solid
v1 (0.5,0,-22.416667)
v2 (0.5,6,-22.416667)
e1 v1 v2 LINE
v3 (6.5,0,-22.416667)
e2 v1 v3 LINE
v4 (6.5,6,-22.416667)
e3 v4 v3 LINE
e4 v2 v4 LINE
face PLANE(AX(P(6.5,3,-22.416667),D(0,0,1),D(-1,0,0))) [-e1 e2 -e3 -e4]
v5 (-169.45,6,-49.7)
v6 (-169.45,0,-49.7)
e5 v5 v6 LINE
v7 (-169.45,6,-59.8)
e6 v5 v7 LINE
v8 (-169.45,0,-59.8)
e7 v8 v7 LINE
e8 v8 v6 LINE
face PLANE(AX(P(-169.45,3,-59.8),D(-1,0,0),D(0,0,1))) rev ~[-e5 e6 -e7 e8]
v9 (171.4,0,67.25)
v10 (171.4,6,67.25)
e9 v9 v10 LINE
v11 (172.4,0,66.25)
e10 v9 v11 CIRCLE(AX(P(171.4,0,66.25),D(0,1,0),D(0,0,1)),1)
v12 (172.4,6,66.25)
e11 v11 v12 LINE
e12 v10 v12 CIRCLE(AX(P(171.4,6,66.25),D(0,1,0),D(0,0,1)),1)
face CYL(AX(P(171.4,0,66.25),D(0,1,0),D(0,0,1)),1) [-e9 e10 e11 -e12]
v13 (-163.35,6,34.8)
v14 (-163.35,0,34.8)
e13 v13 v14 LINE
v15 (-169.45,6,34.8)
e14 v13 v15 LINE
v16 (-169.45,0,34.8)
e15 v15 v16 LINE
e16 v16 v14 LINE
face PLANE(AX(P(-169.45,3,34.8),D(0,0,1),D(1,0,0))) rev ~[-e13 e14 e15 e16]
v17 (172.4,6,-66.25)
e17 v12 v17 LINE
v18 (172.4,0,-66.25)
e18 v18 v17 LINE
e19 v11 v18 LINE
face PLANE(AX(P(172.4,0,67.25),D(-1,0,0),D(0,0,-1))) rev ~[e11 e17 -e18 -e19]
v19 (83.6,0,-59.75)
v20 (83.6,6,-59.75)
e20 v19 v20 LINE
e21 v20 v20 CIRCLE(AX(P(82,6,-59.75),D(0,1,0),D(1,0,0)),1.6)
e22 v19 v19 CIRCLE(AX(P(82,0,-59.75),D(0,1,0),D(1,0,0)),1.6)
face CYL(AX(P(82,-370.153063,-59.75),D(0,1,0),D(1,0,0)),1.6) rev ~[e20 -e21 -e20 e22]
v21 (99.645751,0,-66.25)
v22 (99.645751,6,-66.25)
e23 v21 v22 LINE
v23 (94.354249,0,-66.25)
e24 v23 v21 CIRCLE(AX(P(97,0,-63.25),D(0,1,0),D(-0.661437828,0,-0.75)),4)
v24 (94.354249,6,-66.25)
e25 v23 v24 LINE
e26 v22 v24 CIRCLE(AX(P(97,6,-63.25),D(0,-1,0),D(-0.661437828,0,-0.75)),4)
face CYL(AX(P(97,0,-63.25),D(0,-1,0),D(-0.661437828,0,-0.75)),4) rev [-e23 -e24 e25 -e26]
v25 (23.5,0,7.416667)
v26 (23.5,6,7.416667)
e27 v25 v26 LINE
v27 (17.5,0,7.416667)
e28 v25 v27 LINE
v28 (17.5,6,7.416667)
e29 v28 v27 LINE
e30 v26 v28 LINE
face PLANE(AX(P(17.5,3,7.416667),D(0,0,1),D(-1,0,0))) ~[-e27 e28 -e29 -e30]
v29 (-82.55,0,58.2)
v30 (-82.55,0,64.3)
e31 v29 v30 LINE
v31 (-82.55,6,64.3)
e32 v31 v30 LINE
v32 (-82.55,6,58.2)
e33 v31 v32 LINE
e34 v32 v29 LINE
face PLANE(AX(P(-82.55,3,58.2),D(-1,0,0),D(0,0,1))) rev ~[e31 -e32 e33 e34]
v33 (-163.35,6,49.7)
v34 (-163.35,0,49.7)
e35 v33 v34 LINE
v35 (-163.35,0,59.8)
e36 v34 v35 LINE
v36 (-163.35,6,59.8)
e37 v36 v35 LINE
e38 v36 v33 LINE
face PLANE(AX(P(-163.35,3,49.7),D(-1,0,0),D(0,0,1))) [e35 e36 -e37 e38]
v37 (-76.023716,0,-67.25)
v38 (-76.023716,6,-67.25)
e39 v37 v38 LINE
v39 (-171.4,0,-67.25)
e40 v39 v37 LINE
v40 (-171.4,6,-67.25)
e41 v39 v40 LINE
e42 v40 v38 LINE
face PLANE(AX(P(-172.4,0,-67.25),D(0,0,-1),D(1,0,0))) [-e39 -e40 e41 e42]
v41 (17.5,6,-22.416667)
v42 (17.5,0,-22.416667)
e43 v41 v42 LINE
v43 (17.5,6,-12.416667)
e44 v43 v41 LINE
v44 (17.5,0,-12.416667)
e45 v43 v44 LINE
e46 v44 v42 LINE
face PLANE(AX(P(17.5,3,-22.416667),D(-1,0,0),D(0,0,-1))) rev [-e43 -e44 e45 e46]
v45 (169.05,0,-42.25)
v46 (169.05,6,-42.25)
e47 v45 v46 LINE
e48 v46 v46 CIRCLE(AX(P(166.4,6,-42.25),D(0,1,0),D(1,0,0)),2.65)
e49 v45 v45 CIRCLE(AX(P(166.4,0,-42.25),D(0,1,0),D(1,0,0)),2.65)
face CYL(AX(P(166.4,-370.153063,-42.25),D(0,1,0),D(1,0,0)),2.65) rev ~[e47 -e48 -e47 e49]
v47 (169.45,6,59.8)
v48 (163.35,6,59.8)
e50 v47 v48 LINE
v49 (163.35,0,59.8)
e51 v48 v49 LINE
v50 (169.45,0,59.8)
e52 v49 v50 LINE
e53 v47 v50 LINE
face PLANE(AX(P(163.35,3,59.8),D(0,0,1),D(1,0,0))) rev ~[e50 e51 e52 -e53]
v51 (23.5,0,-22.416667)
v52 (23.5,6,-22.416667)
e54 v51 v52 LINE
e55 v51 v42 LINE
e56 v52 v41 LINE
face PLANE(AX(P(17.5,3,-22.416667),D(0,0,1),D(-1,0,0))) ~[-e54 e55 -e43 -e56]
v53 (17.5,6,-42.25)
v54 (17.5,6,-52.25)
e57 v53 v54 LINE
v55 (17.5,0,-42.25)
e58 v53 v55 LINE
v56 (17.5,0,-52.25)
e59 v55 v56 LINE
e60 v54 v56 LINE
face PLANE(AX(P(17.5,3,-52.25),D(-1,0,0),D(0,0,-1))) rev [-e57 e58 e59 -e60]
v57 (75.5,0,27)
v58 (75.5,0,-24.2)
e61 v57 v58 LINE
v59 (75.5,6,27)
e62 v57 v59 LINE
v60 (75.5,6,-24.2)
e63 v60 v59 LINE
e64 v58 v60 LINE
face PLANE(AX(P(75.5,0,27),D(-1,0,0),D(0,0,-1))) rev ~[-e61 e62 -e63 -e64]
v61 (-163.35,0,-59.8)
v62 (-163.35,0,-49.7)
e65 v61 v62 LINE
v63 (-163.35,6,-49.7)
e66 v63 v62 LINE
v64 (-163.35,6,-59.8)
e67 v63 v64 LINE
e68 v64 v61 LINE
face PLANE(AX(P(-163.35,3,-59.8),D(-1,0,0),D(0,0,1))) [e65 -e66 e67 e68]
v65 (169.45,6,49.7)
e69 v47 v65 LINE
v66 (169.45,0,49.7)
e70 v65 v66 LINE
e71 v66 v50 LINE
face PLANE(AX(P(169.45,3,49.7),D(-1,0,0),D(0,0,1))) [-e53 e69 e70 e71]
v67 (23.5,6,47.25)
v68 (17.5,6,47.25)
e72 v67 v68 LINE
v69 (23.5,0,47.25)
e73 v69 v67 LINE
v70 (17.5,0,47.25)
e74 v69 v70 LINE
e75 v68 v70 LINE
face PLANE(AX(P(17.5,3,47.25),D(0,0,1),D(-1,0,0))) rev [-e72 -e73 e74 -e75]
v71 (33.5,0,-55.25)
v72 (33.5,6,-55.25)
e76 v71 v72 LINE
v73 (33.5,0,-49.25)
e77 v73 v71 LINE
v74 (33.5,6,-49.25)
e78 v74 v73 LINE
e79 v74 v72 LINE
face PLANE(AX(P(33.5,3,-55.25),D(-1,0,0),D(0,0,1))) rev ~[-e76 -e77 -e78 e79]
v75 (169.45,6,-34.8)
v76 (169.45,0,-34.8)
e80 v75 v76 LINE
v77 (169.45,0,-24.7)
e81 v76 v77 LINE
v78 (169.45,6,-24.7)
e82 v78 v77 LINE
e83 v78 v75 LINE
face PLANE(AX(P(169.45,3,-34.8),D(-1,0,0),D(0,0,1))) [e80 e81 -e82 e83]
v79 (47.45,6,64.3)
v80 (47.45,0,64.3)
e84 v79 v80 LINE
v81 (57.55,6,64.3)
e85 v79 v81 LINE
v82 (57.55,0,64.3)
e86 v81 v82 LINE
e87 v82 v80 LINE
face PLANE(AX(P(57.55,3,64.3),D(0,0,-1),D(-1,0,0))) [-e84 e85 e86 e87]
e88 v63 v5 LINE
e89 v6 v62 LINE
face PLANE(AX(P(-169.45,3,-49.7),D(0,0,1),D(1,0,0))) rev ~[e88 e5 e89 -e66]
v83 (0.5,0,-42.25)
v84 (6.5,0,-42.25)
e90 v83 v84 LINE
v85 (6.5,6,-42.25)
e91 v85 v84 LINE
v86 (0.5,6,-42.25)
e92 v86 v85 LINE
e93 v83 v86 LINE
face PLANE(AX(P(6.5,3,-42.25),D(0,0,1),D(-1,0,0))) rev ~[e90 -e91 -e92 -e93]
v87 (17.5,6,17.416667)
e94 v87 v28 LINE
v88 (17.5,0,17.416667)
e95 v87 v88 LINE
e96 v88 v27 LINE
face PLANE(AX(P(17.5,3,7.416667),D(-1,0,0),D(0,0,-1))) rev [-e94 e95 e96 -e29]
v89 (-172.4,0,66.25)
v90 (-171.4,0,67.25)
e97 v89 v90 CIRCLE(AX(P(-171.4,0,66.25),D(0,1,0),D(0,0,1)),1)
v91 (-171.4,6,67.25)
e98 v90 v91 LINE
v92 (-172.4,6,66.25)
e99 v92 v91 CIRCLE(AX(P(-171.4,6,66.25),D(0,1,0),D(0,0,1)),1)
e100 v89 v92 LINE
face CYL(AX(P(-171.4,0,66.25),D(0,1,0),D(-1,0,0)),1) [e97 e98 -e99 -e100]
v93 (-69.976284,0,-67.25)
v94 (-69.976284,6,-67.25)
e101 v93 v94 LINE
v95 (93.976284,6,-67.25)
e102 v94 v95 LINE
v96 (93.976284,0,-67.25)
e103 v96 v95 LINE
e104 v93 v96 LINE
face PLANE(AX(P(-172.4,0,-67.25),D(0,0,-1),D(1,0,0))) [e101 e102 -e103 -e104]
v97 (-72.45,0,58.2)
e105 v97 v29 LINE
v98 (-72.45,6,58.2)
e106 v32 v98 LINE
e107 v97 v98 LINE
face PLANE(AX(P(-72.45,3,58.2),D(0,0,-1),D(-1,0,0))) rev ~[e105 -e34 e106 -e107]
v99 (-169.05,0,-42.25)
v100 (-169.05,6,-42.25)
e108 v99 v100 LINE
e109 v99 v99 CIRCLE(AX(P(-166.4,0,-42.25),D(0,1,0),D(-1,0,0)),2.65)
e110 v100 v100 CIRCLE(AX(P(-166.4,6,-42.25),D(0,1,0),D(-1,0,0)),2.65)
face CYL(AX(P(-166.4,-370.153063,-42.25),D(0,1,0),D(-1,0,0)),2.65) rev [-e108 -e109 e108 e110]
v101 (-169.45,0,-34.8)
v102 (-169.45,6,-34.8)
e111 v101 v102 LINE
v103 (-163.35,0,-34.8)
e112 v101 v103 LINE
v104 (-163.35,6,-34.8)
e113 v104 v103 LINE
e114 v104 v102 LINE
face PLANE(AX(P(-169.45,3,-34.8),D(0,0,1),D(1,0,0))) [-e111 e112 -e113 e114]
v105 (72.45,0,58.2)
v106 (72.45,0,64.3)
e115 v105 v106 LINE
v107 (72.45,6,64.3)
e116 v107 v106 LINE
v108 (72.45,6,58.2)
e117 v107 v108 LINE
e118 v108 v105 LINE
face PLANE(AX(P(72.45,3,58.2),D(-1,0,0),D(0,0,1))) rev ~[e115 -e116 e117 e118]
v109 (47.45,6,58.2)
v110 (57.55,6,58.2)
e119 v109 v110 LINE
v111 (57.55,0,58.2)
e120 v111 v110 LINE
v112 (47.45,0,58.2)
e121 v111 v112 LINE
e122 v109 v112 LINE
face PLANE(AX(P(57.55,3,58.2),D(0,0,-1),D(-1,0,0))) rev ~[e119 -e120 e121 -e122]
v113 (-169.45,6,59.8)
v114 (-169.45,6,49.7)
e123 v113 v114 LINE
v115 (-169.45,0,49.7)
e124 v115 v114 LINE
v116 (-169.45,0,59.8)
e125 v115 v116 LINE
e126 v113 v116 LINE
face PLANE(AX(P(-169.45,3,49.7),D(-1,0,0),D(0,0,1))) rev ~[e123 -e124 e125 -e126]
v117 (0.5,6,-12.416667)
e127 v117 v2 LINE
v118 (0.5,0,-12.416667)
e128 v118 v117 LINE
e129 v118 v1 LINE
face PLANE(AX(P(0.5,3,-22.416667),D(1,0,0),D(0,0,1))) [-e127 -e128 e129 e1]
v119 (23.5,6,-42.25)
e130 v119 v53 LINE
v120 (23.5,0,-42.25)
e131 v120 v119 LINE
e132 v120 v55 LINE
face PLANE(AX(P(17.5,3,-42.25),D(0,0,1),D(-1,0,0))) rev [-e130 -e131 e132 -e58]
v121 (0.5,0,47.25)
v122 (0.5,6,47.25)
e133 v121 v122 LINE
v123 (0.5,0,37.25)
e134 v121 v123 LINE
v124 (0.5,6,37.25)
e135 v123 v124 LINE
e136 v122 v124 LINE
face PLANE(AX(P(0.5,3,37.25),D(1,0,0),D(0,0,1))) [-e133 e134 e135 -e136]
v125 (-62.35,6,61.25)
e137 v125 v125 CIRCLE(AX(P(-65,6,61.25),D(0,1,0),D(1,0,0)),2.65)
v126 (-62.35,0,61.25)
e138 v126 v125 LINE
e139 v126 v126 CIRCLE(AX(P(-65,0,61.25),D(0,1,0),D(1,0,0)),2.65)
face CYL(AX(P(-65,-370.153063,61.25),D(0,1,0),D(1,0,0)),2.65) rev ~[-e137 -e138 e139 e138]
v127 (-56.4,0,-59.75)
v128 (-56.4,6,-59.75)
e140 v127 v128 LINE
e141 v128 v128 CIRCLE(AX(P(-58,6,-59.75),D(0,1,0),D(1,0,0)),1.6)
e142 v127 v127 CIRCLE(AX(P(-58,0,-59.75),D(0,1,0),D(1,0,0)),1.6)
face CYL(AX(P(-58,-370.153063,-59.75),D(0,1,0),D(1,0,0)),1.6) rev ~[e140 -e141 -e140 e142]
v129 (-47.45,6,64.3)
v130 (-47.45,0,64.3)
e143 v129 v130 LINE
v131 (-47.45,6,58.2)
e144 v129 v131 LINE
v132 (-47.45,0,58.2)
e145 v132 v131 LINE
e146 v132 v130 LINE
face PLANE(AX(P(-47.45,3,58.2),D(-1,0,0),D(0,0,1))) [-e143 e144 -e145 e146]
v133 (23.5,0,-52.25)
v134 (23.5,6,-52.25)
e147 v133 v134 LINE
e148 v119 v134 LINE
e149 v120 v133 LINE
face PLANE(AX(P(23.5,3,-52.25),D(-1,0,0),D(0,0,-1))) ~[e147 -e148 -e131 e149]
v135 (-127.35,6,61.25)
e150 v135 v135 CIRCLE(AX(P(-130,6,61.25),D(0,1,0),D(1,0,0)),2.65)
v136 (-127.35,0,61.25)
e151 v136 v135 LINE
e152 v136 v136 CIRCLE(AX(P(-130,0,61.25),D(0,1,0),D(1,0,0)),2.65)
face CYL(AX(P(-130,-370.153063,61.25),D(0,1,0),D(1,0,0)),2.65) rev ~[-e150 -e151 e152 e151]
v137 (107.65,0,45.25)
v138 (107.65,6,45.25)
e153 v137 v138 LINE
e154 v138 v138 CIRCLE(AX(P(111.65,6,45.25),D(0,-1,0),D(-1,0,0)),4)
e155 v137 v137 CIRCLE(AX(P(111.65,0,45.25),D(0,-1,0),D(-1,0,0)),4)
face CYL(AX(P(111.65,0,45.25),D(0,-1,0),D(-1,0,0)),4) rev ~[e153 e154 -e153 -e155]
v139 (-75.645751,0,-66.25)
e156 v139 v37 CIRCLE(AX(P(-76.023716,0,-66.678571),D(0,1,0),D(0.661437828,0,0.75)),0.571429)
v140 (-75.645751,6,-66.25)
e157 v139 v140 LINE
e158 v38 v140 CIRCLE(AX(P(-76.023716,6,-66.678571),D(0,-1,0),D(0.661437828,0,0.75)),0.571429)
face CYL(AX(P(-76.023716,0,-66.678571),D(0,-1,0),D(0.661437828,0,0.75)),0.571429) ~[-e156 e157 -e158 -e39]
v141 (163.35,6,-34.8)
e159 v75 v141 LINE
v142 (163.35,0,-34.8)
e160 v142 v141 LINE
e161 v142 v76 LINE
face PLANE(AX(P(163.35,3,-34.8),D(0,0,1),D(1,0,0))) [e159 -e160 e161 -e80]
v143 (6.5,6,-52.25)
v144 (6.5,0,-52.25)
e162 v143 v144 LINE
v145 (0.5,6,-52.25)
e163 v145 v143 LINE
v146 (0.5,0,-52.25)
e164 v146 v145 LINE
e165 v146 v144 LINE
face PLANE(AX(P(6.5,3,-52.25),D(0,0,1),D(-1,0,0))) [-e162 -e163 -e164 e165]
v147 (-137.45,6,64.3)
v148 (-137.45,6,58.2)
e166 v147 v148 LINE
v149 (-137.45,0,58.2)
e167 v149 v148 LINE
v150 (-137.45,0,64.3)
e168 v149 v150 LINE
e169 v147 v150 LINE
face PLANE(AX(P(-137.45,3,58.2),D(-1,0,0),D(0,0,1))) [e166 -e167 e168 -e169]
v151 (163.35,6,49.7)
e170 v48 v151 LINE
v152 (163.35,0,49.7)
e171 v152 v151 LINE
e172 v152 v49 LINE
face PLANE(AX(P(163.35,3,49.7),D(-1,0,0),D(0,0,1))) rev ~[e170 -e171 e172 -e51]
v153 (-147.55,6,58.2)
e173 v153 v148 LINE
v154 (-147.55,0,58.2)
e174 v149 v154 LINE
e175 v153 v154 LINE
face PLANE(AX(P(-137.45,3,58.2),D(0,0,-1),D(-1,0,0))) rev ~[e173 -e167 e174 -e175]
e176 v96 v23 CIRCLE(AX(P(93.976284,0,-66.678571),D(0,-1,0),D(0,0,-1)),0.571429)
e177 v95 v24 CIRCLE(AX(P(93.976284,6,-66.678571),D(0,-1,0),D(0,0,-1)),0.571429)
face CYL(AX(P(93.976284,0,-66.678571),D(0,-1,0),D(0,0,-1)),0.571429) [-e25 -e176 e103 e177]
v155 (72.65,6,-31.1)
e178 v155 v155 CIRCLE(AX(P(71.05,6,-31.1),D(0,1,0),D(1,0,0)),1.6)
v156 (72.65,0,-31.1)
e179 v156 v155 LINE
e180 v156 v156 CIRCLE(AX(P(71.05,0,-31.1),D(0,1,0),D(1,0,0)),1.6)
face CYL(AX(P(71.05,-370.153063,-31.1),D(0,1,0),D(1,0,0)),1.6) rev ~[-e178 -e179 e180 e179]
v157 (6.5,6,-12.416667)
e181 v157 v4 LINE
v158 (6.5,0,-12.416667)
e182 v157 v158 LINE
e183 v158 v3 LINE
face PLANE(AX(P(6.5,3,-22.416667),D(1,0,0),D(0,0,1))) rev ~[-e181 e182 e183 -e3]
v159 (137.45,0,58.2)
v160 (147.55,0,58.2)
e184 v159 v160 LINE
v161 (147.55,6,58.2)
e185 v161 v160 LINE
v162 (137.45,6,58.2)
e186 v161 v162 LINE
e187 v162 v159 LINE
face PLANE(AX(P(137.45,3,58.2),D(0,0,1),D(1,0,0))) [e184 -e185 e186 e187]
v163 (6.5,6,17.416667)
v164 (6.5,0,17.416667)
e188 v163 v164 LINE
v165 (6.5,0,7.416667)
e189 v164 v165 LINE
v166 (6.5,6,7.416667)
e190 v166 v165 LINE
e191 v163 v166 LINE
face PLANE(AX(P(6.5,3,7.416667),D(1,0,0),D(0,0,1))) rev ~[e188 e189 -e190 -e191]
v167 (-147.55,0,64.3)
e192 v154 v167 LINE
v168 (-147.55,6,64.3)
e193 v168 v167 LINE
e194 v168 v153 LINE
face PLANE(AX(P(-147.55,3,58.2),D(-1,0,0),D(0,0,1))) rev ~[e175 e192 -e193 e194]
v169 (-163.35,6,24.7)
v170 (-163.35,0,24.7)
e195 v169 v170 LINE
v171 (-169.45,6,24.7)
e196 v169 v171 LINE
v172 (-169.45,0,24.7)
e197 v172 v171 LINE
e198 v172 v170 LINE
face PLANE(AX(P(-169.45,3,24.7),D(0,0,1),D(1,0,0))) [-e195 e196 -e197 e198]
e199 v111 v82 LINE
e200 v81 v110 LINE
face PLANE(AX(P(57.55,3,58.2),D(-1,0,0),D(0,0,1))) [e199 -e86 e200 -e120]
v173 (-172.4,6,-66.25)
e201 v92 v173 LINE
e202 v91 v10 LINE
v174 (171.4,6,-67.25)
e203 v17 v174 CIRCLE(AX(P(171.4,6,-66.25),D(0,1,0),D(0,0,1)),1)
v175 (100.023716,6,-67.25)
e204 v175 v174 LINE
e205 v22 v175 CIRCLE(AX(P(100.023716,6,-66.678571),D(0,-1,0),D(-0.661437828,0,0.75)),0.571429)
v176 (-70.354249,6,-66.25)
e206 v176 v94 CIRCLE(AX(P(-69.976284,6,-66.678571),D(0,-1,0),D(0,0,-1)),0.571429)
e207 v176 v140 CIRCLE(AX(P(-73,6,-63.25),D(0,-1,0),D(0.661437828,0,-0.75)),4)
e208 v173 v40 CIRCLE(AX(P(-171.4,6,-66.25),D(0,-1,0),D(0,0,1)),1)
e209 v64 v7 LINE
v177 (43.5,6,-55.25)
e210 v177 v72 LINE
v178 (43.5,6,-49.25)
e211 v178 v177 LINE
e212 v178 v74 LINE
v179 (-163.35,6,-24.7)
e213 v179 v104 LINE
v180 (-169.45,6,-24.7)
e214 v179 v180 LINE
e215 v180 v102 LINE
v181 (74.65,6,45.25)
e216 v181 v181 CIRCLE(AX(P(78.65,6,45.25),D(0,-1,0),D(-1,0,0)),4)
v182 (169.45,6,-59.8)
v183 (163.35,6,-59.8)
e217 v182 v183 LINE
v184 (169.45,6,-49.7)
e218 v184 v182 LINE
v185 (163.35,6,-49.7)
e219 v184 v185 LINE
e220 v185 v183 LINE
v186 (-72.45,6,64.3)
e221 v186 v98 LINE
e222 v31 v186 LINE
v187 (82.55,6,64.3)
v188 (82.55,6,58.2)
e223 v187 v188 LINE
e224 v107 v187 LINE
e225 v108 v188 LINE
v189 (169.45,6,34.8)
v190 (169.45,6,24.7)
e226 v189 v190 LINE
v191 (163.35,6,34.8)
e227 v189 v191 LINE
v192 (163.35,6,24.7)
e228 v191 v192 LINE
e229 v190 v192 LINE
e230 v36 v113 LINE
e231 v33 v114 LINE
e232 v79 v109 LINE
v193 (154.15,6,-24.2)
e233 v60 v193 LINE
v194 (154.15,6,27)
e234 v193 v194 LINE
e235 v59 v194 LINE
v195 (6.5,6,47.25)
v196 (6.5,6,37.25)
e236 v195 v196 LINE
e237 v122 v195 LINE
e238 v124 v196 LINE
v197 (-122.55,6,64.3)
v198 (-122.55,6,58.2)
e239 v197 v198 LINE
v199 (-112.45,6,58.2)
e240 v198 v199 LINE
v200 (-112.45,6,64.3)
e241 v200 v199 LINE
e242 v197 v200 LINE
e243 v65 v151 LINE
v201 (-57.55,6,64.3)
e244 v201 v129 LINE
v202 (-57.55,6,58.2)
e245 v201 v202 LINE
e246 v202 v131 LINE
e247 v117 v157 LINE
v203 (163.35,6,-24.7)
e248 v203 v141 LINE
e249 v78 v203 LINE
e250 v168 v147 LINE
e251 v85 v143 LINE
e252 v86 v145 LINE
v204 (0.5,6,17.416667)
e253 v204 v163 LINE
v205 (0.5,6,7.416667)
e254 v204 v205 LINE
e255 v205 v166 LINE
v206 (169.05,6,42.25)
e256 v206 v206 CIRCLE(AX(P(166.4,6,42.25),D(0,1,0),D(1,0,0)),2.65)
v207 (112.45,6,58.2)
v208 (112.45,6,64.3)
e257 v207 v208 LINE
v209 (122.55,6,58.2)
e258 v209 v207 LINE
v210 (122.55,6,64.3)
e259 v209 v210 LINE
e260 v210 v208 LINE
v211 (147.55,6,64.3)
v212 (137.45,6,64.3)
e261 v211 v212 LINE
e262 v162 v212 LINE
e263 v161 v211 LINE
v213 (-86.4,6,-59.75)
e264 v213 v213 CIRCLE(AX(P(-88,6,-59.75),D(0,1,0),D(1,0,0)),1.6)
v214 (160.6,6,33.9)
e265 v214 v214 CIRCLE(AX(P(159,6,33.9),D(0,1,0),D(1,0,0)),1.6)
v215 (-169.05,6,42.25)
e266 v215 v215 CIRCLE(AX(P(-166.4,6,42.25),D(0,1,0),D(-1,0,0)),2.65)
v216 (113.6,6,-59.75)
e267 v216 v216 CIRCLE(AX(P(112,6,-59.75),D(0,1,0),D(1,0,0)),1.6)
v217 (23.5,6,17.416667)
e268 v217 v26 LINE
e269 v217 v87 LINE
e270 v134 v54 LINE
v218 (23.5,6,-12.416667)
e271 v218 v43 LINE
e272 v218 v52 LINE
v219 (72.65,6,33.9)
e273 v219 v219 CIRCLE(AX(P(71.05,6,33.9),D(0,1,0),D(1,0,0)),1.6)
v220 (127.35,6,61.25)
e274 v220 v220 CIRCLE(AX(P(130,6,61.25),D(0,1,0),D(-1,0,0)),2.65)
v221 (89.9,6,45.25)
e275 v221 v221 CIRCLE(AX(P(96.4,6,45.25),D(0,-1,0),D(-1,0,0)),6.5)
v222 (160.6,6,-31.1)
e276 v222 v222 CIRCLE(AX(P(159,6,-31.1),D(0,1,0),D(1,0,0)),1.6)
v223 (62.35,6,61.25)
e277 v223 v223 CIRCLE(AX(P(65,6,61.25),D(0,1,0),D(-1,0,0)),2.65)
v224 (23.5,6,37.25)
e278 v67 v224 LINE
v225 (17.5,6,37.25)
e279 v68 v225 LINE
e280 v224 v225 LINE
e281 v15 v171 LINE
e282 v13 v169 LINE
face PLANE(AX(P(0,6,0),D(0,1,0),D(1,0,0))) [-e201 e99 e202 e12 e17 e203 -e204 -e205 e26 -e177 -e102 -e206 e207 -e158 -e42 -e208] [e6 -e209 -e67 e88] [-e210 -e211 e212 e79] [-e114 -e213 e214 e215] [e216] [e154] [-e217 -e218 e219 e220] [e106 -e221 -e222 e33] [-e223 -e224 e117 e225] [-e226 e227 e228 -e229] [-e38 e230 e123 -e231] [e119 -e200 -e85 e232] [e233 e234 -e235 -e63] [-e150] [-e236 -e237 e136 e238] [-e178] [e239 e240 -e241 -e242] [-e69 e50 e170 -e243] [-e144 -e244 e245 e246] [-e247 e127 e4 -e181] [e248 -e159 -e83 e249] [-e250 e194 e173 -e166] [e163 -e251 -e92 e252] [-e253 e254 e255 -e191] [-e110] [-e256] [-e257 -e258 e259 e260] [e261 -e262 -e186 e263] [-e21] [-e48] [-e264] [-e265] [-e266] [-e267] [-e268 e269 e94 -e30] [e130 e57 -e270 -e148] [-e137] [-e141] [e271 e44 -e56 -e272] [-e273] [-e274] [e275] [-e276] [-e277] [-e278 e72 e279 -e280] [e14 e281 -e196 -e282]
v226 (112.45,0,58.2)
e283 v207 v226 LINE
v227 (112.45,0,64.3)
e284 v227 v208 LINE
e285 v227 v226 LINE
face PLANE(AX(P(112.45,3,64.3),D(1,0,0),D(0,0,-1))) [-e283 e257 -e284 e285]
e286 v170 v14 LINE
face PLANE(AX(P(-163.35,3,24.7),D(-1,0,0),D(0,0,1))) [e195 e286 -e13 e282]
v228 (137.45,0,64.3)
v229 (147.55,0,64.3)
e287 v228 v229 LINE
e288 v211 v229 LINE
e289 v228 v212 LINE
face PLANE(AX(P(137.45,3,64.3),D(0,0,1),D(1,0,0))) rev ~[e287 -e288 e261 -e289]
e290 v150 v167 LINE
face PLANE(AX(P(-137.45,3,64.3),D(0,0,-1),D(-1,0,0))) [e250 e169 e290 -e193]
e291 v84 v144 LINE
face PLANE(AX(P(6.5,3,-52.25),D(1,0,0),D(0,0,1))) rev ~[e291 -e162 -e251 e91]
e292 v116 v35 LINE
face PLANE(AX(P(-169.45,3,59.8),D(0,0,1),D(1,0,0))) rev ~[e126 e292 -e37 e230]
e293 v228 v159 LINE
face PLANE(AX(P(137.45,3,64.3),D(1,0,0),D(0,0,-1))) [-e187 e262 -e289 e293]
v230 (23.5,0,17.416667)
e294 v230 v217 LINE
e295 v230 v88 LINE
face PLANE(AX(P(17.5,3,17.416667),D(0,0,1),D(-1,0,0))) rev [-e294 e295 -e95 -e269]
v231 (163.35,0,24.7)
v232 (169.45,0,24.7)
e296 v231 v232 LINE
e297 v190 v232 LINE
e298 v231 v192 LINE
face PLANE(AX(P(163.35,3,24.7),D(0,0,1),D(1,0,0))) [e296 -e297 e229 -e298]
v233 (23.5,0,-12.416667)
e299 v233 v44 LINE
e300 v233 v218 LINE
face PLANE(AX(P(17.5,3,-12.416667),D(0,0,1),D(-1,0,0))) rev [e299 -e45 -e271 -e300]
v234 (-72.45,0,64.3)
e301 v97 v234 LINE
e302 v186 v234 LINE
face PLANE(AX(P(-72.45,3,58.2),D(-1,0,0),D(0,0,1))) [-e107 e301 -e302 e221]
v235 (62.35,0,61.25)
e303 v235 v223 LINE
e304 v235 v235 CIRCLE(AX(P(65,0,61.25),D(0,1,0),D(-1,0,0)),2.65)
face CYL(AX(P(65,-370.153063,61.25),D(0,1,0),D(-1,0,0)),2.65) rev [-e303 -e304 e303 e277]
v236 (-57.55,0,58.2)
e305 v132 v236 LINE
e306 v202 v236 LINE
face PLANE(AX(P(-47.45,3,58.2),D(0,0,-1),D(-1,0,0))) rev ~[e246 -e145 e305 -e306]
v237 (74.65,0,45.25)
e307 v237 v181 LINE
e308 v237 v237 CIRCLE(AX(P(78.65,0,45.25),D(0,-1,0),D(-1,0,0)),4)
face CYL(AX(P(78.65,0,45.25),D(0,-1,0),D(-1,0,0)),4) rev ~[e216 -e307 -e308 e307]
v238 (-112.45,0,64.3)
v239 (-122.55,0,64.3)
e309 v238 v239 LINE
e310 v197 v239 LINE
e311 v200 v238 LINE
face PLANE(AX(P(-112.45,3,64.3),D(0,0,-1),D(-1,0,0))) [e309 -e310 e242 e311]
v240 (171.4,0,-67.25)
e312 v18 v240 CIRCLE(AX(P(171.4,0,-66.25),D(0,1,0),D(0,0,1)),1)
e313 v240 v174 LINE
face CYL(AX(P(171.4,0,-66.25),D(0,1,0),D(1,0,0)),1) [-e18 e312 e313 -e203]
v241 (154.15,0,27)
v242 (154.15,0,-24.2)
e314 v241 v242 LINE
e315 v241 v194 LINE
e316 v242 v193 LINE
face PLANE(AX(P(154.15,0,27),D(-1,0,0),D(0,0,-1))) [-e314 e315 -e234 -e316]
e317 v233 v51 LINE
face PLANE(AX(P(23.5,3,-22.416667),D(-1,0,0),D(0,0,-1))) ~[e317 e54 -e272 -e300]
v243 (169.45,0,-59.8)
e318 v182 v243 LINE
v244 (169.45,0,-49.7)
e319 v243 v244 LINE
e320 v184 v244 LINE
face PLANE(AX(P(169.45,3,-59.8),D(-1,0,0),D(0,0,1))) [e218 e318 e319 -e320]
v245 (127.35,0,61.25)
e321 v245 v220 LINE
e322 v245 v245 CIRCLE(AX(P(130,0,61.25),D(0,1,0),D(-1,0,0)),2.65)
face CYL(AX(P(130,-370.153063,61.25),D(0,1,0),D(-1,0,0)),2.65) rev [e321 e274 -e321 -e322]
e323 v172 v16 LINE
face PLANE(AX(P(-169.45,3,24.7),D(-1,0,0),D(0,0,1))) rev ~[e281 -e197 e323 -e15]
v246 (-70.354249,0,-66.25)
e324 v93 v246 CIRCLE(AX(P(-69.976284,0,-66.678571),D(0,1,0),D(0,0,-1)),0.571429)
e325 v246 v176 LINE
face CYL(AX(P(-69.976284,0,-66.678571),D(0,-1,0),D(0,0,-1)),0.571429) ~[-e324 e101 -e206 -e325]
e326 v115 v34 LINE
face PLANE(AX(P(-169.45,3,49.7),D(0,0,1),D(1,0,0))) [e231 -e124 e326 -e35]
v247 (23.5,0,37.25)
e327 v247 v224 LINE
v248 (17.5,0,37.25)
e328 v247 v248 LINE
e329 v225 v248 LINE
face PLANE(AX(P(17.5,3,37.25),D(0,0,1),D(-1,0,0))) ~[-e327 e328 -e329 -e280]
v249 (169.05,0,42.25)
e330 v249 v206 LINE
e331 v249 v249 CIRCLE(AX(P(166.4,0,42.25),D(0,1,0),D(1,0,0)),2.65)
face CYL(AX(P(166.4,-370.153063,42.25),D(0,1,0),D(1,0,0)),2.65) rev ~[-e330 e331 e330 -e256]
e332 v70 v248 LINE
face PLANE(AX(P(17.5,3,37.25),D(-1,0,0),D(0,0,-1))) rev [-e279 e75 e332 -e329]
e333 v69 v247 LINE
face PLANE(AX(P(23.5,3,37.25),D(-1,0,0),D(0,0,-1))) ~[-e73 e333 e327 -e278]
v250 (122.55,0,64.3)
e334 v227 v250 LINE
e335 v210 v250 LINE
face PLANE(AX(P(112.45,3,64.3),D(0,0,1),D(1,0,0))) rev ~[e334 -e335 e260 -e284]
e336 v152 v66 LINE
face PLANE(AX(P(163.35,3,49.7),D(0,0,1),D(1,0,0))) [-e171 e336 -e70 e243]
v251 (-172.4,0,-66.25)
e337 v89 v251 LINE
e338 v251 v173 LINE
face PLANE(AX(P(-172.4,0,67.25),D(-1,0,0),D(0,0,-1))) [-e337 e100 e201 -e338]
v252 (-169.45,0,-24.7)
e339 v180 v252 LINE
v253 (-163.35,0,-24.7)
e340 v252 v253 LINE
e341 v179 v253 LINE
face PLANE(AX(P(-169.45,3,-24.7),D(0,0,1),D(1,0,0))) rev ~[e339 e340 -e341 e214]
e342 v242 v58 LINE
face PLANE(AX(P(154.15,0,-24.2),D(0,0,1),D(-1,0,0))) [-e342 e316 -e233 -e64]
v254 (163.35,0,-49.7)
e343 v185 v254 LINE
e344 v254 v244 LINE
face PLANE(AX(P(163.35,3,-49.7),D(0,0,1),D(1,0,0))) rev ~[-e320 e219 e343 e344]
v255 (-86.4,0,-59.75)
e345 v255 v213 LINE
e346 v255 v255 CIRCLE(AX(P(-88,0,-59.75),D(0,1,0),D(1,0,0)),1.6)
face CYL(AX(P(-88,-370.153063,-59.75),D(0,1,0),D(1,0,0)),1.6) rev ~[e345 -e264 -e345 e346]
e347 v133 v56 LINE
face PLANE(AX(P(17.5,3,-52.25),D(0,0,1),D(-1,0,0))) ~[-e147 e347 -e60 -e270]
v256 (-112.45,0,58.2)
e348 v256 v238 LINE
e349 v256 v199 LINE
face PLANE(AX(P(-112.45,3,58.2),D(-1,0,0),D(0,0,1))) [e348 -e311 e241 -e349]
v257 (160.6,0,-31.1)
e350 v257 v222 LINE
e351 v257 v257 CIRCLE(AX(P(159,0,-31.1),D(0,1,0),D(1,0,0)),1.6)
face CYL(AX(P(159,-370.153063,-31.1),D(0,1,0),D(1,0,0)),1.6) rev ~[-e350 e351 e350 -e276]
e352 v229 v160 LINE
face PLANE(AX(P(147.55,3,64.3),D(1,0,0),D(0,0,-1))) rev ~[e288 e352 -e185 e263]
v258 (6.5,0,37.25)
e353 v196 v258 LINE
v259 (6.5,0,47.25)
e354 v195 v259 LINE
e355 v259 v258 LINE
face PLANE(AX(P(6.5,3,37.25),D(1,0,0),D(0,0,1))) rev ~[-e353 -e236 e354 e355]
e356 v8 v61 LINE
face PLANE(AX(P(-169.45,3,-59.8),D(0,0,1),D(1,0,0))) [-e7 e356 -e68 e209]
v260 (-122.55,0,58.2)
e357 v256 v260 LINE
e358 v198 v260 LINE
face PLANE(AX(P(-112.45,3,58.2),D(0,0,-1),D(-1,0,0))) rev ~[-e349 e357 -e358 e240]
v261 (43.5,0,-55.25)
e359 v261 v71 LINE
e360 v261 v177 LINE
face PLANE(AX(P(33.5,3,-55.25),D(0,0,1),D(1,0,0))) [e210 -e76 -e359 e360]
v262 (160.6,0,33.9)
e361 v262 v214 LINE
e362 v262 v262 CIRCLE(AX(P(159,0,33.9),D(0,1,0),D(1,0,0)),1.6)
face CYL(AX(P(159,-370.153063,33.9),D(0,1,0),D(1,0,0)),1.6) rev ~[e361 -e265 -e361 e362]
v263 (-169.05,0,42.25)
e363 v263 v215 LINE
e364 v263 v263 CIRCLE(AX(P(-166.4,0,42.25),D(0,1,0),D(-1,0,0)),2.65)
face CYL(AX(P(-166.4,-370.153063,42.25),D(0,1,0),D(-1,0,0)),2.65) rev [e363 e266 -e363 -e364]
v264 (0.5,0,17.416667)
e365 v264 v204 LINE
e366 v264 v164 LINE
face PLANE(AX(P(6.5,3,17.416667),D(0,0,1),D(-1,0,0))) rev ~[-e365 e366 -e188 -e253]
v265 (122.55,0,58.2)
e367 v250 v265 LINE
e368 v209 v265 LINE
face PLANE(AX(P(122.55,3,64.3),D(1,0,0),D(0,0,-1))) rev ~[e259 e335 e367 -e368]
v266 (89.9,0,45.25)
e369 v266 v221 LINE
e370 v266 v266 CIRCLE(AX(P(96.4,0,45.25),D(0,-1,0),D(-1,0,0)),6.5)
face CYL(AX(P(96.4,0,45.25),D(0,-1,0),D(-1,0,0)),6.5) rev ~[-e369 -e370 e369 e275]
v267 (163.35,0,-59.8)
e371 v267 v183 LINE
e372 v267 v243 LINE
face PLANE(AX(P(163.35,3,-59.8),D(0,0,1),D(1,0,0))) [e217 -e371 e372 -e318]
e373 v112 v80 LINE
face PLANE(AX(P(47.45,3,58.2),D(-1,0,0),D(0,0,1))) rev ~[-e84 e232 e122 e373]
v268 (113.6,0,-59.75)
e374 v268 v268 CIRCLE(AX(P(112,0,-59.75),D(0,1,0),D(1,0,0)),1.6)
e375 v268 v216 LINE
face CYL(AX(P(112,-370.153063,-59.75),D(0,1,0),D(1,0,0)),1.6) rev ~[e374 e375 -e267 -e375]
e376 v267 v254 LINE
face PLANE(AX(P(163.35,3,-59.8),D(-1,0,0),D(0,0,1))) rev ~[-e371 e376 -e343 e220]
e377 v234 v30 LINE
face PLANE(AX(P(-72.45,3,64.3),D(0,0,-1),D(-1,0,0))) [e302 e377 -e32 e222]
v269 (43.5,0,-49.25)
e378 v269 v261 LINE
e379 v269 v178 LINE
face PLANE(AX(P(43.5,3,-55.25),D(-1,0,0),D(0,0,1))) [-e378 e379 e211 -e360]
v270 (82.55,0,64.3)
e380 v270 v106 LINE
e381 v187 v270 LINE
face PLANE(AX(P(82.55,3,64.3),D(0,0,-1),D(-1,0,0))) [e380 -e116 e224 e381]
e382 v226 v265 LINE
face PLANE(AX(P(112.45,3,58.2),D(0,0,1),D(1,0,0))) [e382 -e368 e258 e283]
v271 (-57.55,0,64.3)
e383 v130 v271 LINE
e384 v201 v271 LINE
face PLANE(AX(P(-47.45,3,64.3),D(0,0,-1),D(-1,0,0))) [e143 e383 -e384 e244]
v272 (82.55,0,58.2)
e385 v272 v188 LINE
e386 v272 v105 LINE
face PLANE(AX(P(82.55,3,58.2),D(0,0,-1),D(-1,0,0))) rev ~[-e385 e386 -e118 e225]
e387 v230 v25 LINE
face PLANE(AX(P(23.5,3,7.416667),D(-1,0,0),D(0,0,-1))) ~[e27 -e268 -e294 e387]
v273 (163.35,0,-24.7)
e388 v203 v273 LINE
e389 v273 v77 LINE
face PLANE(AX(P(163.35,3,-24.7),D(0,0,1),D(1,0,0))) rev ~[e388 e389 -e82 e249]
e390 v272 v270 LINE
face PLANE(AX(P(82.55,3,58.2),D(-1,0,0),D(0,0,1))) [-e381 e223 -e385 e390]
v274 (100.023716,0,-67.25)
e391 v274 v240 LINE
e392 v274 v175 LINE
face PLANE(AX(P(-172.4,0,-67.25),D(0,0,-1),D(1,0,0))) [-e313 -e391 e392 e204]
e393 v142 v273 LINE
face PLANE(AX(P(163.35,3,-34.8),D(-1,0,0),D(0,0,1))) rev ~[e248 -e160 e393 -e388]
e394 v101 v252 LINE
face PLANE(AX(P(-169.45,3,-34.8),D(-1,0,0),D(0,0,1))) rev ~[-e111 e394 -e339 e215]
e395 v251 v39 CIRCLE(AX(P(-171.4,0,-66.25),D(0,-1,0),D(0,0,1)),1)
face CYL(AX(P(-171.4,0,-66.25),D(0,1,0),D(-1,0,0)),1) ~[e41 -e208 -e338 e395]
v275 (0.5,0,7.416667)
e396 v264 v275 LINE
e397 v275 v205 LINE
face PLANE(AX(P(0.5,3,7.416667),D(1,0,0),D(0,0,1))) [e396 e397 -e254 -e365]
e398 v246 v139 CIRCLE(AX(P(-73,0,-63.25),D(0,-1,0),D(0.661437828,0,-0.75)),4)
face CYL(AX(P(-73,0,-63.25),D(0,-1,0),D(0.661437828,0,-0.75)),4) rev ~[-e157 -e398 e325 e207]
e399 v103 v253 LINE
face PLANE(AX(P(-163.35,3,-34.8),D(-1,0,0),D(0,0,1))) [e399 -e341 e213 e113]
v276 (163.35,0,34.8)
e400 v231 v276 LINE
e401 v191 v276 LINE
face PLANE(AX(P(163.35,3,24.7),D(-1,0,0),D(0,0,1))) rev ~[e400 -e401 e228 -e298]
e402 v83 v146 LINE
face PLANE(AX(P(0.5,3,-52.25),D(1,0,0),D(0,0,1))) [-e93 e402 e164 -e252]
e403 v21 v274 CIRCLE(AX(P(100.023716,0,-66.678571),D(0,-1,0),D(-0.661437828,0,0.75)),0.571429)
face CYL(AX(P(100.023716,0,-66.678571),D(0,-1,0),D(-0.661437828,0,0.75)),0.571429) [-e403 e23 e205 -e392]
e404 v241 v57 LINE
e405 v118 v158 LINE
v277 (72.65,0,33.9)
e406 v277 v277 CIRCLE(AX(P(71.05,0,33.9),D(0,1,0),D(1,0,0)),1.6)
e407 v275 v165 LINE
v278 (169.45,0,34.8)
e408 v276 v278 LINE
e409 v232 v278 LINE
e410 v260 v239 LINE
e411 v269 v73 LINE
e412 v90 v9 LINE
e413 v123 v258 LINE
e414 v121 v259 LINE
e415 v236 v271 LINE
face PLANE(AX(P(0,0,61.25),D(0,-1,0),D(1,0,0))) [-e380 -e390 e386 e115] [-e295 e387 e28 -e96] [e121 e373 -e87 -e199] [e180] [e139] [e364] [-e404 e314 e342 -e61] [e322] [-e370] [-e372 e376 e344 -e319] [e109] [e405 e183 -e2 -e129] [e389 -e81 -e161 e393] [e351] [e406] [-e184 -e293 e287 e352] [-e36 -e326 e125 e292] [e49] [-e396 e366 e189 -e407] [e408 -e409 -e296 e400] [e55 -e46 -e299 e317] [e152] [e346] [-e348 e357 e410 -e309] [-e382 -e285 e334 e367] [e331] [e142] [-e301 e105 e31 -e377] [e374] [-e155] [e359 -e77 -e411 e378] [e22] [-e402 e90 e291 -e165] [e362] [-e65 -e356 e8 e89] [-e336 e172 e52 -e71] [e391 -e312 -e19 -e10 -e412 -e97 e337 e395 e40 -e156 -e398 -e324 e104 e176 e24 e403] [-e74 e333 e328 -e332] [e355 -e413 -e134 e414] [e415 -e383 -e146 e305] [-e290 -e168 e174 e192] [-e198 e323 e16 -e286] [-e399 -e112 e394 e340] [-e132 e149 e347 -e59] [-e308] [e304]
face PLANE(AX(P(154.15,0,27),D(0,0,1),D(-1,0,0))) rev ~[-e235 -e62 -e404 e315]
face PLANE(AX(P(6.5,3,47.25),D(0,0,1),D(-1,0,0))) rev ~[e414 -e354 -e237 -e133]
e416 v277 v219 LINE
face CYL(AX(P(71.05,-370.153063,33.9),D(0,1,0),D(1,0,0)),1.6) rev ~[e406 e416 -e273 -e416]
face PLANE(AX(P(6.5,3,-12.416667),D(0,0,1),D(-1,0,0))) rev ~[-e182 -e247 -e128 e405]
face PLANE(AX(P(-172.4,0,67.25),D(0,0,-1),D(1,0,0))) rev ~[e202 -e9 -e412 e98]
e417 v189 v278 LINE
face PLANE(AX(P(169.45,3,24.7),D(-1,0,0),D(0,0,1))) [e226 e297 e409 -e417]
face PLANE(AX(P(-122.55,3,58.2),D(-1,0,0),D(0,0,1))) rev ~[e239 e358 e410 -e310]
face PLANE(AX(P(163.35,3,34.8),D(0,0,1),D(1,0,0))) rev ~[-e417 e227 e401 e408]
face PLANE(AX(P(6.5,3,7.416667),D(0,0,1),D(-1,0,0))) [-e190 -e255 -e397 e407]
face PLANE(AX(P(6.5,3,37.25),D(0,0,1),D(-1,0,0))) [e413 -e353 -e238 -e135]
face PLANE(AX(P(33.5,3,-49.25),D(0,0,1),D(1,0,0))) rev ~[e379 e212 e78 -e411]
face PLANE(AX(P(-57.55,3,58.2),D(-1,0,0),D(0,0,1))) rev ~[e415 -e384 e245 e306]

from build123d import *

# Parameters (mm, degrees)
SKETCH1_W                = 344.8
SKETCH1_H                = 134.5
BOSS_EXTRUDE1_DEPTH      = 6
SKETCH2_R                = 6.5
SKETCH2_R_2              = 4
SKETCH2_W                = 78.65
SKETCH2_H                = 51.2
CUT_EXTRUDE1_DEPTH       = 7
M3_CLEARANCE_HOLE1_D     = 3.2
M5_CLEARANCE_HOLE1_D     = 5.3
SKETCH7_W                = 6.1
SKETCH7_H                = 10.1
CUT_EXTRUDE2_DEPTH       = 4
CUT_EXTRUDE2_DEPTH_BACK  = 4
SKETCH71_W               = 6.1
SKETCH71_H               = 10.1
CUT_EXTRUDE21_DEPTH      = 4
CUT_EXTRUDE21_DEPTH_BACK = 4
SKETCH72_W               = 6.1
SKETCH72_H               = 10.1
CUT_EXTRUDE22_DEPTH      = 4
CUT_EXTRUDE22_DEPTH_BACK = 4
SKETCH73_W               = 6.1
SKETCH73_H               = 10.1
CUT_EXTRUDE23_DEPTH      = 4
CUT_EXTRUDE23_DEPTH_BACK = 4
SKETCH74_W               = 6.1
SKETCH74_H               = 10.1
CUT_EXTRUDE24_DEPTH      = 4
CUT_EXTRUDE24_DEPTH_BACK = 4
SKETCH75_W               = 6.1
SKETCH75_H               = 10.1
CUT_EXTRUDE25_DEPTH      = 4
CUT_EXTRUDE25_DEPTH_BACK = 4
SKETCH77_W               = 6.1
SKETCH77_H               = 10.1
CUT_EXTRUDE27_DEPTH      = 4
CUT_EXTRUDE27_DEPTH_BACK = 4
SKETCH78_W               = 6.1
SKETCH78_H               = 10.1
CUT_EXTRUDE28_DEPTH      = 4
CUT_EXTRUDE28_DEPTH_BACK = 4
CUT_EXTRUDE29_DEPTH      = 7
SKETCH62_W               = 10
SKETCH62_H               = 6
CUT_EXTRUDE12_DEPTH      = 4
SKETCH63_W               = 10
SKETCH63_H               = 6
CUT_EXTRUDE13_DEPTH      = 4
SKETCH64_W               = 10
SKETCH64_H               = 6
CUT_EXTRUDE14_DEPTH      = 4
SKETCH65_W               = 10
SKETCH65_H               = 6
CUT_EXTRUDE15_DEPTH      = 4
SKETCH81_R               = 2.65
BOSS_EXTRUDE2_DEPTH      = 6
SKETCH67_W               = 10
SKETCH67_H               = 6
CUT_EXTRUDE17_DEPTH      = 4
CUT_EXTRUDE17_DEPTH_BACK = 4
M3_CLEARANCE_HOLE2_D     = 3.2
FILLET1_R                = 1


with BuildPart() as part:
    # Sketch1 → Boss-Extrude1 (new body)
    with BuildSketch(Plane(origin=(0, 0, 0), x_dir=(1, 0, 0), z_dir=(0, 1, 0))):
        Rectangle(SKETCH1_W, SKETCH1_H)
    extrude(amount=BOSS_EXTRUDE1_DEPTH)

    # Sketch2 → Cut-Extrude1 (cut, through all)
    with BuildSketch(Plane(origin=(0, 0, 0), x_dir=(-1, 0, 0), z_dir=(0, -1, 0))):
        with Locations((-96.4, -45.25)):
            Circle(SKETCH2_R)
        with Locations((-78.65, -45.25)):
            Circle(SKETCH2_R_2)
        with Locations((-111.65, -45.25)):
            Circle(SKETCH2_R_2)
        with Locations((-114.825, -1.4)):
            Rectangle(SKETCH2_W, SKETCH2_H)
    extrude(amount=-CUT_EXTRUDE1_DEPTH, mode=Mode.SUBTRACT)

    # M3 Clearance Hole1 (through all)
    with Locations(Plane(origin=(0, 0, 0), x_dir=(-1, 0, 0), z_dir=(0, -1, 0))):
        with Locations((-159, 31.1), (-71.05, 31.1), (-71.05, -33.9), (-159, -33.9)):
            Hole(M3_CLEARANCE_HOLE1_D / 2)

    # M5 Clearance Hole1 (through all)
    with Locations(Plane(origin=(0, 0, 0), x_dir=(-1, 0, 0), z_dir=(0, -1, 0))):
        with Locations((0, -61.25), (65, -61.25), (130, -61.25), (-166.4, -42.25), (-166.4, 42.25)):
            m5_clearance_hole1 = Hole(M5_CLEARANCE_HOLE1_D / 2)

    # Mirror1: M5 Clearance Hole1 across plane
    add(m5_clearance_hole1.mirror(Plane(origin=(0, 0, 0), x_dir=(0, 0, 1), z_dir=(1, 0, 0))), mode=Mode.SUBTRACT)

    # Sketch7 → Cut-Extrude2 (cut, two sides)
    with BuildSketch(Plane(origin=(122.4, 3, -22.25), x_dir=(1, 0, 0), z_dir=(0, -1, 0))) as cut_extrude2_sk:
        with Locations((44, -32.5)):
            Rectangle(SKETCH7_W, SKETCH7_H)
        with Locations((44, -7.5)):
            Rectangle(SKETCH7_W, SKETCH7_H)
    extrude(amount=CUT_EXTRUDE2_DEPTH, mode=Mode.SUBTRACT)
    extrude(cut_extrude2_sk.sketch, amount=-CUT_EXTRUDE2_DEPTH_BACK, mode=Mode.SUBTRACT)

    # Sketch71 → Cut-Extrude21 (cut, two sides)
    with BuildSketch(Plane(origin=(122.4, 3, 62.25), x_dir=(1, 0, 0), z_dir=(0, -1, 0))) as cut_extrude21_sk:
        with Locations((44, -32.5)):
            Rectangle(SKETCH71_W, SKETCH71_H)
        with Locations((44, -7.5)):
            Rectangle(SKETCH71_W, SKETCH71_H)
    extrude(amount=CUT_EXTRUDE21_DEPTH, mode=Mode.SUBTRACT)
    extrude(cut_extrude21_sk.sketch, amount=-CUT_EXTRUDE21_DEPTH_BACK, mode=Mode.SUBTRACT)

    # Sketch72 → Cut-Extrude22 (cut, two sides)
    with BuildSketch(Plane(origin=(-210.4, 3, -22.25), x_dir=(1, 0, 0), z_dir=(0, -1, 0))) as cut_extrude22_sk:
        with Locations((44, -32.5)):
            Rectangle(SKETCH72_W, SKETCH72_H)
        with Locations((44, -7.5)):
            Rectangle(SKETCH72_W, SKETCH72_H)
    extrude(amount=CUT_EXTRUDE22_DEPTH, mode=Mode.SUBTRACT)
    extrude(cut_extrude22_sk.sketch, amount=-CUT_EXTRUDE22_DEPTH_BACK, mode=Mode.SUBTRACT)

    # Sketch73 → Cut-Extrude23 (cut, two sides)
    with BuildSketch(Plane(origin=(-210.4, 3, 62.25), x_dir=(1, 0, 0), z_dir=(0, -1, 0))) as cut_extrude23_sk:
        with Locations((44, -32.5)):
            Rectangle(SKETCH73_W, SKETCH73_H)
        with Locations((44, -7.5)):
            Rectangle(SKETCH73_W, SKETCH73_H)
    extrude(amount=CUT_EXTRUDE23_DEPTH, mode=Mode.SUBTRACT)
    extrude(cut_extrude23_sk.sketch, amount=-CUT_EXTRUDE23_DEPTH_BACK, mode=Mode.SUBTRACT)

    # Sketch74 → Cut-Extrude24 (cut, two sides)
    with BuildSketch(Plane(origin=(150, 3, 105.25), x_dir=(0, 0, -1), z_dir=(0, -1, 0))) as cut_extrude24_sk:
        with Locations((44, -32.5)):
            Rectangle(SKETCH74_W, SKETCH74_H)
        with Locations((44, -7.5)):
            Rectangle(SKETCH74_W, SKETCH74_H)
    extrude(amount=CUT_EXTRUDE24_DEPTH, mode=Mode.SUBTRACT)
    extrude(cut_extrude24_sk.sketch, amount=-CUT_EXTRUDE24_DEPTH_BACK, mode=Mode.SUBTRACT)

    # Sketch75 → Cut-Extrude25 (cut, two sides)
    with BuildSketch(Plane(origin=(45, 3, 17.25), x_dir=(0, 0, 1), z_dir=(0, -1, 0))) as cut_extrude25_sk:
        with Locations((44, -32.5)):
            Rectangle(SKETCH75_W, SKETCH75_H)
        with Locations((44, -7.5)):
            Rectangle(SKETCH75_W, SKETCH75_H)
    extrude(amount=CUT_EXTRUDE25_DEPTH, mode=Mode.SUBTRACT)
    extrude(cut_extrude25_sk.sketch, amount=-CUT_EXTRUDE25_DEPTH_BACK, mode=Mode.SUBTRACT)

    # Sketch77 → Cut-Extrude27 (cut, two sides)
    with BuildSketch(Plane(origin=(-85, 3, 17.25), x_dir=(0, 0, 1), z_dir=(0, -1, 0))) as cut_extrude27_sk:
        with Locations((44, -32.5)):
            Rectangle(SKETCH77_W, SKETCH77_H)
        with Locations((44, -7.5)):
            Rectangle(SKETCH77_W, SKETCH77_H)
    extrude(amount=CUT_EXTRUDE27_DEPTH, mode=Mode.SUBTRACT)
    extrude(cut_extrude27_sk.sketch, amount=-CUT_EXTRUDE27_DEPTH_BACK, mode=Mode.SUBTRACT)

    # Sketch78 → Cut-Extrude28 (cut, two sides)
    with BuildSketch(Plane(origin=(-150, 3, 17.25), x_dir=(0, 0, 1), z_dir=(0, -1, 0))) as cut_extrude28_sk:
        with Locations((44, -32.5)):
            Rectangle(SKETCH78_W, SKETCH78_H)
        with Locations((44, -7.5)):
            Rectangle(SKETCH78_W, SKETCH78_H)
    extrude(amount=CUT_EXTRUDE28_DEPTH, mode=Mode.SUBTRACT)
    extrude(cut_extrude28_sk.sketch, amount=-CUT_EXTRUDE28_DEPTH_BACK, mode=Mode.SUBTRACT)

    # Sketch79 → Cut-Extrude29 (cut, through all)
    with BuildSketch(Plane(origin=(0, 0, 0), x_dir=(-1, 0, 0), z_dir=(0, -1, 0))):
        with BuildLine():
            Line((-100.023715784, 67.25), (-93.976284216, 67.25))
            ThreePointArc((-93.976284216, 67.25), (-94.5108067, 66.880601937), (-94.354248689, 66.25))
            ThreePointArc((-94.354248689, 66.25), (-97, 59.25), (-99.645751311, 66.25))
            ThreePointArc((-99.645751311, 66.25), (-99.4891933, 66.880601937), (-100.023715784, 67.25))
        make_face()
    cut_extrude29 = extrude(amount=-CUT_EXTRUDE29_DEPTH, mode=Mode.SUBTRACT)

    # Mirror3: Cut-Extrude29 across plane
    add(cut_extrude29.mirror(Plane.ZY.offset(-12)), mode=Mode.SUBTRACT)

    # Sketch62 → Cut-Extrude12 (cut, symmetric)
    with BuildSketch(Plane(origin=(-40.5, 3, 41.482221392), x_dir=(0, 0, 1), z_dir=(0, -1, 0))):
        with Locations((0.767778608, -44)):
            Rectangle(SKETCH62_W, SKETCH62_H)
    cut_extrude12 = extrude(amount=CUT_EXTRUDE12_DEPTH, both=True, mode=Mode.SUBTRACT)

    # Sketch63 → Cut-Extrude13 (cut, symmetric)
    with BuildSketch(Plane(origin=(-40.5, 3, 11.648888059), x_dir=(0, 0, 1), z_dir=(0, -1, 0))):
        with Locations((0.767778608, -44)):
            Rectangle(SKETCH63_W, SKETCH63_H)
    cut_extrude13 = extrude(amount=CUT_EXTRUDE13_DEPTH, both=True, mode=Mode.SUBTRACT)

    # Sketch64 → Cut-Extrude14 (cut, symmetric)
    with BuildSketch(Plane(origin=(-40.5, 3, -18.184445274), x_dir=(0, 0, 1), z_dir=(0, -1, 0))):
        with Locations((0.767778608, -44)):
            Rectangle(SKETCH64_W, SKETCH64_H)
    cut_extrude14 = extrude(amount=CUT_EXTRUDE14_DEPTH, both=True, mode=Mode.SUBTRACT)

    # Sketch65 → Cut-Extrude15 (cut, symmetric)
    with BuildSketch(Plane(origin=(-40.5, 3, -48.017778608), x_dir=(0, 0, 1), z_dir=(0, -1, 0))):
        with Locations((0.767778608, -44)):
            Rectangle(SKETCH65_W, SKETCH65_H)
    cut_extrude15 = extrude(amount=CUT_EXTRUDE15_DEPTH, both=True, mode=Mode.SUBTRACT)

    # Mirror2: Cut-Extrude12, Cut-Extrude13, Cut-Extrude14, Cut-Extrude15 across plane
    add(cut_extrude12.mirror(Plane(origin=(12, 0, 0), x_dir=(0, 0, 1), z_dir=(1, 0, 0))), mode=Mode.SUBTRACT)
    add(cut_extrude13.mirror(Plane(origin=(12, 0, 0), x_dir=(0, 0, 1), z_dir=(1, 0, 0))), mode=Mode.SUBTRACT)
    add(cut_extrude14.mirror(Plane(origin=(12, 0, 0), x_dir=(0, 0, 1), z_dir=(1, 0, 0))), mode=Mode.SUBTRACT)
    add(cut_extrude15.mirror(Plane(origin=(12, 0, 0), x_dir=(0, 0, 1), z_dir=(1, 0, 0))), mode=Mode.SUBTRACT)

    # Sketch81 → Boss-Extrude2 (add, through all)
    with BuildSketch(Plane.XZ):
        with Locations((0, 61.25)):
            Circle(SKETCH81_R)
    extrude(amount=-BOSS_EXTRUDE2_DEPTH)

    # Sketch67 → Cut-Extrude17 (cut, two sides)
    with BuildSketch(Plane(origin=(37.732221392, 3, -8.25), x_dir=(1, 0, 0), z_dir=(0, -1, 0))) as cut_extrude17_sk:
        with Locations((0.767778608, -44)):
            Rectangle(SKETCH67_W, SKETCH67_H)
    extrude(amount=CUT_EXTRUDE17_DEPTH, mode=Mode.SUBTRACT)
    extrude(cut_extrude17_sk.sketch, amount=-CUT_EXTRUDE17_DEPTH_BACK, mode=Mode.SUBTRACT)

    # M3 Clearance Hole2 (through all)
    with Locations(Plane(origin=(0, 0, 0), x_dir=(-1, 0, 0), z_dir=(0, -1, 0))):
        with Locations((-112, 59.75), (-82, 59.75), (58, 59.75), (88, 59.75)):
            Hole(M3_CLEARANCE_HOLE2_D / 2)

    # Fillet1
    fillet1_edges = [part.edges().sort_by_distance(p)[0] for p in [
        (172.4, 3, 67.25),
        (-172.4, 3, 67.25),
        (-172.4, 3, -67.25),
        (172.4, 3, -67.25),
    ]]
    fillet(fillet1_edges, radius=FILLET1_R)


solid = part.part
